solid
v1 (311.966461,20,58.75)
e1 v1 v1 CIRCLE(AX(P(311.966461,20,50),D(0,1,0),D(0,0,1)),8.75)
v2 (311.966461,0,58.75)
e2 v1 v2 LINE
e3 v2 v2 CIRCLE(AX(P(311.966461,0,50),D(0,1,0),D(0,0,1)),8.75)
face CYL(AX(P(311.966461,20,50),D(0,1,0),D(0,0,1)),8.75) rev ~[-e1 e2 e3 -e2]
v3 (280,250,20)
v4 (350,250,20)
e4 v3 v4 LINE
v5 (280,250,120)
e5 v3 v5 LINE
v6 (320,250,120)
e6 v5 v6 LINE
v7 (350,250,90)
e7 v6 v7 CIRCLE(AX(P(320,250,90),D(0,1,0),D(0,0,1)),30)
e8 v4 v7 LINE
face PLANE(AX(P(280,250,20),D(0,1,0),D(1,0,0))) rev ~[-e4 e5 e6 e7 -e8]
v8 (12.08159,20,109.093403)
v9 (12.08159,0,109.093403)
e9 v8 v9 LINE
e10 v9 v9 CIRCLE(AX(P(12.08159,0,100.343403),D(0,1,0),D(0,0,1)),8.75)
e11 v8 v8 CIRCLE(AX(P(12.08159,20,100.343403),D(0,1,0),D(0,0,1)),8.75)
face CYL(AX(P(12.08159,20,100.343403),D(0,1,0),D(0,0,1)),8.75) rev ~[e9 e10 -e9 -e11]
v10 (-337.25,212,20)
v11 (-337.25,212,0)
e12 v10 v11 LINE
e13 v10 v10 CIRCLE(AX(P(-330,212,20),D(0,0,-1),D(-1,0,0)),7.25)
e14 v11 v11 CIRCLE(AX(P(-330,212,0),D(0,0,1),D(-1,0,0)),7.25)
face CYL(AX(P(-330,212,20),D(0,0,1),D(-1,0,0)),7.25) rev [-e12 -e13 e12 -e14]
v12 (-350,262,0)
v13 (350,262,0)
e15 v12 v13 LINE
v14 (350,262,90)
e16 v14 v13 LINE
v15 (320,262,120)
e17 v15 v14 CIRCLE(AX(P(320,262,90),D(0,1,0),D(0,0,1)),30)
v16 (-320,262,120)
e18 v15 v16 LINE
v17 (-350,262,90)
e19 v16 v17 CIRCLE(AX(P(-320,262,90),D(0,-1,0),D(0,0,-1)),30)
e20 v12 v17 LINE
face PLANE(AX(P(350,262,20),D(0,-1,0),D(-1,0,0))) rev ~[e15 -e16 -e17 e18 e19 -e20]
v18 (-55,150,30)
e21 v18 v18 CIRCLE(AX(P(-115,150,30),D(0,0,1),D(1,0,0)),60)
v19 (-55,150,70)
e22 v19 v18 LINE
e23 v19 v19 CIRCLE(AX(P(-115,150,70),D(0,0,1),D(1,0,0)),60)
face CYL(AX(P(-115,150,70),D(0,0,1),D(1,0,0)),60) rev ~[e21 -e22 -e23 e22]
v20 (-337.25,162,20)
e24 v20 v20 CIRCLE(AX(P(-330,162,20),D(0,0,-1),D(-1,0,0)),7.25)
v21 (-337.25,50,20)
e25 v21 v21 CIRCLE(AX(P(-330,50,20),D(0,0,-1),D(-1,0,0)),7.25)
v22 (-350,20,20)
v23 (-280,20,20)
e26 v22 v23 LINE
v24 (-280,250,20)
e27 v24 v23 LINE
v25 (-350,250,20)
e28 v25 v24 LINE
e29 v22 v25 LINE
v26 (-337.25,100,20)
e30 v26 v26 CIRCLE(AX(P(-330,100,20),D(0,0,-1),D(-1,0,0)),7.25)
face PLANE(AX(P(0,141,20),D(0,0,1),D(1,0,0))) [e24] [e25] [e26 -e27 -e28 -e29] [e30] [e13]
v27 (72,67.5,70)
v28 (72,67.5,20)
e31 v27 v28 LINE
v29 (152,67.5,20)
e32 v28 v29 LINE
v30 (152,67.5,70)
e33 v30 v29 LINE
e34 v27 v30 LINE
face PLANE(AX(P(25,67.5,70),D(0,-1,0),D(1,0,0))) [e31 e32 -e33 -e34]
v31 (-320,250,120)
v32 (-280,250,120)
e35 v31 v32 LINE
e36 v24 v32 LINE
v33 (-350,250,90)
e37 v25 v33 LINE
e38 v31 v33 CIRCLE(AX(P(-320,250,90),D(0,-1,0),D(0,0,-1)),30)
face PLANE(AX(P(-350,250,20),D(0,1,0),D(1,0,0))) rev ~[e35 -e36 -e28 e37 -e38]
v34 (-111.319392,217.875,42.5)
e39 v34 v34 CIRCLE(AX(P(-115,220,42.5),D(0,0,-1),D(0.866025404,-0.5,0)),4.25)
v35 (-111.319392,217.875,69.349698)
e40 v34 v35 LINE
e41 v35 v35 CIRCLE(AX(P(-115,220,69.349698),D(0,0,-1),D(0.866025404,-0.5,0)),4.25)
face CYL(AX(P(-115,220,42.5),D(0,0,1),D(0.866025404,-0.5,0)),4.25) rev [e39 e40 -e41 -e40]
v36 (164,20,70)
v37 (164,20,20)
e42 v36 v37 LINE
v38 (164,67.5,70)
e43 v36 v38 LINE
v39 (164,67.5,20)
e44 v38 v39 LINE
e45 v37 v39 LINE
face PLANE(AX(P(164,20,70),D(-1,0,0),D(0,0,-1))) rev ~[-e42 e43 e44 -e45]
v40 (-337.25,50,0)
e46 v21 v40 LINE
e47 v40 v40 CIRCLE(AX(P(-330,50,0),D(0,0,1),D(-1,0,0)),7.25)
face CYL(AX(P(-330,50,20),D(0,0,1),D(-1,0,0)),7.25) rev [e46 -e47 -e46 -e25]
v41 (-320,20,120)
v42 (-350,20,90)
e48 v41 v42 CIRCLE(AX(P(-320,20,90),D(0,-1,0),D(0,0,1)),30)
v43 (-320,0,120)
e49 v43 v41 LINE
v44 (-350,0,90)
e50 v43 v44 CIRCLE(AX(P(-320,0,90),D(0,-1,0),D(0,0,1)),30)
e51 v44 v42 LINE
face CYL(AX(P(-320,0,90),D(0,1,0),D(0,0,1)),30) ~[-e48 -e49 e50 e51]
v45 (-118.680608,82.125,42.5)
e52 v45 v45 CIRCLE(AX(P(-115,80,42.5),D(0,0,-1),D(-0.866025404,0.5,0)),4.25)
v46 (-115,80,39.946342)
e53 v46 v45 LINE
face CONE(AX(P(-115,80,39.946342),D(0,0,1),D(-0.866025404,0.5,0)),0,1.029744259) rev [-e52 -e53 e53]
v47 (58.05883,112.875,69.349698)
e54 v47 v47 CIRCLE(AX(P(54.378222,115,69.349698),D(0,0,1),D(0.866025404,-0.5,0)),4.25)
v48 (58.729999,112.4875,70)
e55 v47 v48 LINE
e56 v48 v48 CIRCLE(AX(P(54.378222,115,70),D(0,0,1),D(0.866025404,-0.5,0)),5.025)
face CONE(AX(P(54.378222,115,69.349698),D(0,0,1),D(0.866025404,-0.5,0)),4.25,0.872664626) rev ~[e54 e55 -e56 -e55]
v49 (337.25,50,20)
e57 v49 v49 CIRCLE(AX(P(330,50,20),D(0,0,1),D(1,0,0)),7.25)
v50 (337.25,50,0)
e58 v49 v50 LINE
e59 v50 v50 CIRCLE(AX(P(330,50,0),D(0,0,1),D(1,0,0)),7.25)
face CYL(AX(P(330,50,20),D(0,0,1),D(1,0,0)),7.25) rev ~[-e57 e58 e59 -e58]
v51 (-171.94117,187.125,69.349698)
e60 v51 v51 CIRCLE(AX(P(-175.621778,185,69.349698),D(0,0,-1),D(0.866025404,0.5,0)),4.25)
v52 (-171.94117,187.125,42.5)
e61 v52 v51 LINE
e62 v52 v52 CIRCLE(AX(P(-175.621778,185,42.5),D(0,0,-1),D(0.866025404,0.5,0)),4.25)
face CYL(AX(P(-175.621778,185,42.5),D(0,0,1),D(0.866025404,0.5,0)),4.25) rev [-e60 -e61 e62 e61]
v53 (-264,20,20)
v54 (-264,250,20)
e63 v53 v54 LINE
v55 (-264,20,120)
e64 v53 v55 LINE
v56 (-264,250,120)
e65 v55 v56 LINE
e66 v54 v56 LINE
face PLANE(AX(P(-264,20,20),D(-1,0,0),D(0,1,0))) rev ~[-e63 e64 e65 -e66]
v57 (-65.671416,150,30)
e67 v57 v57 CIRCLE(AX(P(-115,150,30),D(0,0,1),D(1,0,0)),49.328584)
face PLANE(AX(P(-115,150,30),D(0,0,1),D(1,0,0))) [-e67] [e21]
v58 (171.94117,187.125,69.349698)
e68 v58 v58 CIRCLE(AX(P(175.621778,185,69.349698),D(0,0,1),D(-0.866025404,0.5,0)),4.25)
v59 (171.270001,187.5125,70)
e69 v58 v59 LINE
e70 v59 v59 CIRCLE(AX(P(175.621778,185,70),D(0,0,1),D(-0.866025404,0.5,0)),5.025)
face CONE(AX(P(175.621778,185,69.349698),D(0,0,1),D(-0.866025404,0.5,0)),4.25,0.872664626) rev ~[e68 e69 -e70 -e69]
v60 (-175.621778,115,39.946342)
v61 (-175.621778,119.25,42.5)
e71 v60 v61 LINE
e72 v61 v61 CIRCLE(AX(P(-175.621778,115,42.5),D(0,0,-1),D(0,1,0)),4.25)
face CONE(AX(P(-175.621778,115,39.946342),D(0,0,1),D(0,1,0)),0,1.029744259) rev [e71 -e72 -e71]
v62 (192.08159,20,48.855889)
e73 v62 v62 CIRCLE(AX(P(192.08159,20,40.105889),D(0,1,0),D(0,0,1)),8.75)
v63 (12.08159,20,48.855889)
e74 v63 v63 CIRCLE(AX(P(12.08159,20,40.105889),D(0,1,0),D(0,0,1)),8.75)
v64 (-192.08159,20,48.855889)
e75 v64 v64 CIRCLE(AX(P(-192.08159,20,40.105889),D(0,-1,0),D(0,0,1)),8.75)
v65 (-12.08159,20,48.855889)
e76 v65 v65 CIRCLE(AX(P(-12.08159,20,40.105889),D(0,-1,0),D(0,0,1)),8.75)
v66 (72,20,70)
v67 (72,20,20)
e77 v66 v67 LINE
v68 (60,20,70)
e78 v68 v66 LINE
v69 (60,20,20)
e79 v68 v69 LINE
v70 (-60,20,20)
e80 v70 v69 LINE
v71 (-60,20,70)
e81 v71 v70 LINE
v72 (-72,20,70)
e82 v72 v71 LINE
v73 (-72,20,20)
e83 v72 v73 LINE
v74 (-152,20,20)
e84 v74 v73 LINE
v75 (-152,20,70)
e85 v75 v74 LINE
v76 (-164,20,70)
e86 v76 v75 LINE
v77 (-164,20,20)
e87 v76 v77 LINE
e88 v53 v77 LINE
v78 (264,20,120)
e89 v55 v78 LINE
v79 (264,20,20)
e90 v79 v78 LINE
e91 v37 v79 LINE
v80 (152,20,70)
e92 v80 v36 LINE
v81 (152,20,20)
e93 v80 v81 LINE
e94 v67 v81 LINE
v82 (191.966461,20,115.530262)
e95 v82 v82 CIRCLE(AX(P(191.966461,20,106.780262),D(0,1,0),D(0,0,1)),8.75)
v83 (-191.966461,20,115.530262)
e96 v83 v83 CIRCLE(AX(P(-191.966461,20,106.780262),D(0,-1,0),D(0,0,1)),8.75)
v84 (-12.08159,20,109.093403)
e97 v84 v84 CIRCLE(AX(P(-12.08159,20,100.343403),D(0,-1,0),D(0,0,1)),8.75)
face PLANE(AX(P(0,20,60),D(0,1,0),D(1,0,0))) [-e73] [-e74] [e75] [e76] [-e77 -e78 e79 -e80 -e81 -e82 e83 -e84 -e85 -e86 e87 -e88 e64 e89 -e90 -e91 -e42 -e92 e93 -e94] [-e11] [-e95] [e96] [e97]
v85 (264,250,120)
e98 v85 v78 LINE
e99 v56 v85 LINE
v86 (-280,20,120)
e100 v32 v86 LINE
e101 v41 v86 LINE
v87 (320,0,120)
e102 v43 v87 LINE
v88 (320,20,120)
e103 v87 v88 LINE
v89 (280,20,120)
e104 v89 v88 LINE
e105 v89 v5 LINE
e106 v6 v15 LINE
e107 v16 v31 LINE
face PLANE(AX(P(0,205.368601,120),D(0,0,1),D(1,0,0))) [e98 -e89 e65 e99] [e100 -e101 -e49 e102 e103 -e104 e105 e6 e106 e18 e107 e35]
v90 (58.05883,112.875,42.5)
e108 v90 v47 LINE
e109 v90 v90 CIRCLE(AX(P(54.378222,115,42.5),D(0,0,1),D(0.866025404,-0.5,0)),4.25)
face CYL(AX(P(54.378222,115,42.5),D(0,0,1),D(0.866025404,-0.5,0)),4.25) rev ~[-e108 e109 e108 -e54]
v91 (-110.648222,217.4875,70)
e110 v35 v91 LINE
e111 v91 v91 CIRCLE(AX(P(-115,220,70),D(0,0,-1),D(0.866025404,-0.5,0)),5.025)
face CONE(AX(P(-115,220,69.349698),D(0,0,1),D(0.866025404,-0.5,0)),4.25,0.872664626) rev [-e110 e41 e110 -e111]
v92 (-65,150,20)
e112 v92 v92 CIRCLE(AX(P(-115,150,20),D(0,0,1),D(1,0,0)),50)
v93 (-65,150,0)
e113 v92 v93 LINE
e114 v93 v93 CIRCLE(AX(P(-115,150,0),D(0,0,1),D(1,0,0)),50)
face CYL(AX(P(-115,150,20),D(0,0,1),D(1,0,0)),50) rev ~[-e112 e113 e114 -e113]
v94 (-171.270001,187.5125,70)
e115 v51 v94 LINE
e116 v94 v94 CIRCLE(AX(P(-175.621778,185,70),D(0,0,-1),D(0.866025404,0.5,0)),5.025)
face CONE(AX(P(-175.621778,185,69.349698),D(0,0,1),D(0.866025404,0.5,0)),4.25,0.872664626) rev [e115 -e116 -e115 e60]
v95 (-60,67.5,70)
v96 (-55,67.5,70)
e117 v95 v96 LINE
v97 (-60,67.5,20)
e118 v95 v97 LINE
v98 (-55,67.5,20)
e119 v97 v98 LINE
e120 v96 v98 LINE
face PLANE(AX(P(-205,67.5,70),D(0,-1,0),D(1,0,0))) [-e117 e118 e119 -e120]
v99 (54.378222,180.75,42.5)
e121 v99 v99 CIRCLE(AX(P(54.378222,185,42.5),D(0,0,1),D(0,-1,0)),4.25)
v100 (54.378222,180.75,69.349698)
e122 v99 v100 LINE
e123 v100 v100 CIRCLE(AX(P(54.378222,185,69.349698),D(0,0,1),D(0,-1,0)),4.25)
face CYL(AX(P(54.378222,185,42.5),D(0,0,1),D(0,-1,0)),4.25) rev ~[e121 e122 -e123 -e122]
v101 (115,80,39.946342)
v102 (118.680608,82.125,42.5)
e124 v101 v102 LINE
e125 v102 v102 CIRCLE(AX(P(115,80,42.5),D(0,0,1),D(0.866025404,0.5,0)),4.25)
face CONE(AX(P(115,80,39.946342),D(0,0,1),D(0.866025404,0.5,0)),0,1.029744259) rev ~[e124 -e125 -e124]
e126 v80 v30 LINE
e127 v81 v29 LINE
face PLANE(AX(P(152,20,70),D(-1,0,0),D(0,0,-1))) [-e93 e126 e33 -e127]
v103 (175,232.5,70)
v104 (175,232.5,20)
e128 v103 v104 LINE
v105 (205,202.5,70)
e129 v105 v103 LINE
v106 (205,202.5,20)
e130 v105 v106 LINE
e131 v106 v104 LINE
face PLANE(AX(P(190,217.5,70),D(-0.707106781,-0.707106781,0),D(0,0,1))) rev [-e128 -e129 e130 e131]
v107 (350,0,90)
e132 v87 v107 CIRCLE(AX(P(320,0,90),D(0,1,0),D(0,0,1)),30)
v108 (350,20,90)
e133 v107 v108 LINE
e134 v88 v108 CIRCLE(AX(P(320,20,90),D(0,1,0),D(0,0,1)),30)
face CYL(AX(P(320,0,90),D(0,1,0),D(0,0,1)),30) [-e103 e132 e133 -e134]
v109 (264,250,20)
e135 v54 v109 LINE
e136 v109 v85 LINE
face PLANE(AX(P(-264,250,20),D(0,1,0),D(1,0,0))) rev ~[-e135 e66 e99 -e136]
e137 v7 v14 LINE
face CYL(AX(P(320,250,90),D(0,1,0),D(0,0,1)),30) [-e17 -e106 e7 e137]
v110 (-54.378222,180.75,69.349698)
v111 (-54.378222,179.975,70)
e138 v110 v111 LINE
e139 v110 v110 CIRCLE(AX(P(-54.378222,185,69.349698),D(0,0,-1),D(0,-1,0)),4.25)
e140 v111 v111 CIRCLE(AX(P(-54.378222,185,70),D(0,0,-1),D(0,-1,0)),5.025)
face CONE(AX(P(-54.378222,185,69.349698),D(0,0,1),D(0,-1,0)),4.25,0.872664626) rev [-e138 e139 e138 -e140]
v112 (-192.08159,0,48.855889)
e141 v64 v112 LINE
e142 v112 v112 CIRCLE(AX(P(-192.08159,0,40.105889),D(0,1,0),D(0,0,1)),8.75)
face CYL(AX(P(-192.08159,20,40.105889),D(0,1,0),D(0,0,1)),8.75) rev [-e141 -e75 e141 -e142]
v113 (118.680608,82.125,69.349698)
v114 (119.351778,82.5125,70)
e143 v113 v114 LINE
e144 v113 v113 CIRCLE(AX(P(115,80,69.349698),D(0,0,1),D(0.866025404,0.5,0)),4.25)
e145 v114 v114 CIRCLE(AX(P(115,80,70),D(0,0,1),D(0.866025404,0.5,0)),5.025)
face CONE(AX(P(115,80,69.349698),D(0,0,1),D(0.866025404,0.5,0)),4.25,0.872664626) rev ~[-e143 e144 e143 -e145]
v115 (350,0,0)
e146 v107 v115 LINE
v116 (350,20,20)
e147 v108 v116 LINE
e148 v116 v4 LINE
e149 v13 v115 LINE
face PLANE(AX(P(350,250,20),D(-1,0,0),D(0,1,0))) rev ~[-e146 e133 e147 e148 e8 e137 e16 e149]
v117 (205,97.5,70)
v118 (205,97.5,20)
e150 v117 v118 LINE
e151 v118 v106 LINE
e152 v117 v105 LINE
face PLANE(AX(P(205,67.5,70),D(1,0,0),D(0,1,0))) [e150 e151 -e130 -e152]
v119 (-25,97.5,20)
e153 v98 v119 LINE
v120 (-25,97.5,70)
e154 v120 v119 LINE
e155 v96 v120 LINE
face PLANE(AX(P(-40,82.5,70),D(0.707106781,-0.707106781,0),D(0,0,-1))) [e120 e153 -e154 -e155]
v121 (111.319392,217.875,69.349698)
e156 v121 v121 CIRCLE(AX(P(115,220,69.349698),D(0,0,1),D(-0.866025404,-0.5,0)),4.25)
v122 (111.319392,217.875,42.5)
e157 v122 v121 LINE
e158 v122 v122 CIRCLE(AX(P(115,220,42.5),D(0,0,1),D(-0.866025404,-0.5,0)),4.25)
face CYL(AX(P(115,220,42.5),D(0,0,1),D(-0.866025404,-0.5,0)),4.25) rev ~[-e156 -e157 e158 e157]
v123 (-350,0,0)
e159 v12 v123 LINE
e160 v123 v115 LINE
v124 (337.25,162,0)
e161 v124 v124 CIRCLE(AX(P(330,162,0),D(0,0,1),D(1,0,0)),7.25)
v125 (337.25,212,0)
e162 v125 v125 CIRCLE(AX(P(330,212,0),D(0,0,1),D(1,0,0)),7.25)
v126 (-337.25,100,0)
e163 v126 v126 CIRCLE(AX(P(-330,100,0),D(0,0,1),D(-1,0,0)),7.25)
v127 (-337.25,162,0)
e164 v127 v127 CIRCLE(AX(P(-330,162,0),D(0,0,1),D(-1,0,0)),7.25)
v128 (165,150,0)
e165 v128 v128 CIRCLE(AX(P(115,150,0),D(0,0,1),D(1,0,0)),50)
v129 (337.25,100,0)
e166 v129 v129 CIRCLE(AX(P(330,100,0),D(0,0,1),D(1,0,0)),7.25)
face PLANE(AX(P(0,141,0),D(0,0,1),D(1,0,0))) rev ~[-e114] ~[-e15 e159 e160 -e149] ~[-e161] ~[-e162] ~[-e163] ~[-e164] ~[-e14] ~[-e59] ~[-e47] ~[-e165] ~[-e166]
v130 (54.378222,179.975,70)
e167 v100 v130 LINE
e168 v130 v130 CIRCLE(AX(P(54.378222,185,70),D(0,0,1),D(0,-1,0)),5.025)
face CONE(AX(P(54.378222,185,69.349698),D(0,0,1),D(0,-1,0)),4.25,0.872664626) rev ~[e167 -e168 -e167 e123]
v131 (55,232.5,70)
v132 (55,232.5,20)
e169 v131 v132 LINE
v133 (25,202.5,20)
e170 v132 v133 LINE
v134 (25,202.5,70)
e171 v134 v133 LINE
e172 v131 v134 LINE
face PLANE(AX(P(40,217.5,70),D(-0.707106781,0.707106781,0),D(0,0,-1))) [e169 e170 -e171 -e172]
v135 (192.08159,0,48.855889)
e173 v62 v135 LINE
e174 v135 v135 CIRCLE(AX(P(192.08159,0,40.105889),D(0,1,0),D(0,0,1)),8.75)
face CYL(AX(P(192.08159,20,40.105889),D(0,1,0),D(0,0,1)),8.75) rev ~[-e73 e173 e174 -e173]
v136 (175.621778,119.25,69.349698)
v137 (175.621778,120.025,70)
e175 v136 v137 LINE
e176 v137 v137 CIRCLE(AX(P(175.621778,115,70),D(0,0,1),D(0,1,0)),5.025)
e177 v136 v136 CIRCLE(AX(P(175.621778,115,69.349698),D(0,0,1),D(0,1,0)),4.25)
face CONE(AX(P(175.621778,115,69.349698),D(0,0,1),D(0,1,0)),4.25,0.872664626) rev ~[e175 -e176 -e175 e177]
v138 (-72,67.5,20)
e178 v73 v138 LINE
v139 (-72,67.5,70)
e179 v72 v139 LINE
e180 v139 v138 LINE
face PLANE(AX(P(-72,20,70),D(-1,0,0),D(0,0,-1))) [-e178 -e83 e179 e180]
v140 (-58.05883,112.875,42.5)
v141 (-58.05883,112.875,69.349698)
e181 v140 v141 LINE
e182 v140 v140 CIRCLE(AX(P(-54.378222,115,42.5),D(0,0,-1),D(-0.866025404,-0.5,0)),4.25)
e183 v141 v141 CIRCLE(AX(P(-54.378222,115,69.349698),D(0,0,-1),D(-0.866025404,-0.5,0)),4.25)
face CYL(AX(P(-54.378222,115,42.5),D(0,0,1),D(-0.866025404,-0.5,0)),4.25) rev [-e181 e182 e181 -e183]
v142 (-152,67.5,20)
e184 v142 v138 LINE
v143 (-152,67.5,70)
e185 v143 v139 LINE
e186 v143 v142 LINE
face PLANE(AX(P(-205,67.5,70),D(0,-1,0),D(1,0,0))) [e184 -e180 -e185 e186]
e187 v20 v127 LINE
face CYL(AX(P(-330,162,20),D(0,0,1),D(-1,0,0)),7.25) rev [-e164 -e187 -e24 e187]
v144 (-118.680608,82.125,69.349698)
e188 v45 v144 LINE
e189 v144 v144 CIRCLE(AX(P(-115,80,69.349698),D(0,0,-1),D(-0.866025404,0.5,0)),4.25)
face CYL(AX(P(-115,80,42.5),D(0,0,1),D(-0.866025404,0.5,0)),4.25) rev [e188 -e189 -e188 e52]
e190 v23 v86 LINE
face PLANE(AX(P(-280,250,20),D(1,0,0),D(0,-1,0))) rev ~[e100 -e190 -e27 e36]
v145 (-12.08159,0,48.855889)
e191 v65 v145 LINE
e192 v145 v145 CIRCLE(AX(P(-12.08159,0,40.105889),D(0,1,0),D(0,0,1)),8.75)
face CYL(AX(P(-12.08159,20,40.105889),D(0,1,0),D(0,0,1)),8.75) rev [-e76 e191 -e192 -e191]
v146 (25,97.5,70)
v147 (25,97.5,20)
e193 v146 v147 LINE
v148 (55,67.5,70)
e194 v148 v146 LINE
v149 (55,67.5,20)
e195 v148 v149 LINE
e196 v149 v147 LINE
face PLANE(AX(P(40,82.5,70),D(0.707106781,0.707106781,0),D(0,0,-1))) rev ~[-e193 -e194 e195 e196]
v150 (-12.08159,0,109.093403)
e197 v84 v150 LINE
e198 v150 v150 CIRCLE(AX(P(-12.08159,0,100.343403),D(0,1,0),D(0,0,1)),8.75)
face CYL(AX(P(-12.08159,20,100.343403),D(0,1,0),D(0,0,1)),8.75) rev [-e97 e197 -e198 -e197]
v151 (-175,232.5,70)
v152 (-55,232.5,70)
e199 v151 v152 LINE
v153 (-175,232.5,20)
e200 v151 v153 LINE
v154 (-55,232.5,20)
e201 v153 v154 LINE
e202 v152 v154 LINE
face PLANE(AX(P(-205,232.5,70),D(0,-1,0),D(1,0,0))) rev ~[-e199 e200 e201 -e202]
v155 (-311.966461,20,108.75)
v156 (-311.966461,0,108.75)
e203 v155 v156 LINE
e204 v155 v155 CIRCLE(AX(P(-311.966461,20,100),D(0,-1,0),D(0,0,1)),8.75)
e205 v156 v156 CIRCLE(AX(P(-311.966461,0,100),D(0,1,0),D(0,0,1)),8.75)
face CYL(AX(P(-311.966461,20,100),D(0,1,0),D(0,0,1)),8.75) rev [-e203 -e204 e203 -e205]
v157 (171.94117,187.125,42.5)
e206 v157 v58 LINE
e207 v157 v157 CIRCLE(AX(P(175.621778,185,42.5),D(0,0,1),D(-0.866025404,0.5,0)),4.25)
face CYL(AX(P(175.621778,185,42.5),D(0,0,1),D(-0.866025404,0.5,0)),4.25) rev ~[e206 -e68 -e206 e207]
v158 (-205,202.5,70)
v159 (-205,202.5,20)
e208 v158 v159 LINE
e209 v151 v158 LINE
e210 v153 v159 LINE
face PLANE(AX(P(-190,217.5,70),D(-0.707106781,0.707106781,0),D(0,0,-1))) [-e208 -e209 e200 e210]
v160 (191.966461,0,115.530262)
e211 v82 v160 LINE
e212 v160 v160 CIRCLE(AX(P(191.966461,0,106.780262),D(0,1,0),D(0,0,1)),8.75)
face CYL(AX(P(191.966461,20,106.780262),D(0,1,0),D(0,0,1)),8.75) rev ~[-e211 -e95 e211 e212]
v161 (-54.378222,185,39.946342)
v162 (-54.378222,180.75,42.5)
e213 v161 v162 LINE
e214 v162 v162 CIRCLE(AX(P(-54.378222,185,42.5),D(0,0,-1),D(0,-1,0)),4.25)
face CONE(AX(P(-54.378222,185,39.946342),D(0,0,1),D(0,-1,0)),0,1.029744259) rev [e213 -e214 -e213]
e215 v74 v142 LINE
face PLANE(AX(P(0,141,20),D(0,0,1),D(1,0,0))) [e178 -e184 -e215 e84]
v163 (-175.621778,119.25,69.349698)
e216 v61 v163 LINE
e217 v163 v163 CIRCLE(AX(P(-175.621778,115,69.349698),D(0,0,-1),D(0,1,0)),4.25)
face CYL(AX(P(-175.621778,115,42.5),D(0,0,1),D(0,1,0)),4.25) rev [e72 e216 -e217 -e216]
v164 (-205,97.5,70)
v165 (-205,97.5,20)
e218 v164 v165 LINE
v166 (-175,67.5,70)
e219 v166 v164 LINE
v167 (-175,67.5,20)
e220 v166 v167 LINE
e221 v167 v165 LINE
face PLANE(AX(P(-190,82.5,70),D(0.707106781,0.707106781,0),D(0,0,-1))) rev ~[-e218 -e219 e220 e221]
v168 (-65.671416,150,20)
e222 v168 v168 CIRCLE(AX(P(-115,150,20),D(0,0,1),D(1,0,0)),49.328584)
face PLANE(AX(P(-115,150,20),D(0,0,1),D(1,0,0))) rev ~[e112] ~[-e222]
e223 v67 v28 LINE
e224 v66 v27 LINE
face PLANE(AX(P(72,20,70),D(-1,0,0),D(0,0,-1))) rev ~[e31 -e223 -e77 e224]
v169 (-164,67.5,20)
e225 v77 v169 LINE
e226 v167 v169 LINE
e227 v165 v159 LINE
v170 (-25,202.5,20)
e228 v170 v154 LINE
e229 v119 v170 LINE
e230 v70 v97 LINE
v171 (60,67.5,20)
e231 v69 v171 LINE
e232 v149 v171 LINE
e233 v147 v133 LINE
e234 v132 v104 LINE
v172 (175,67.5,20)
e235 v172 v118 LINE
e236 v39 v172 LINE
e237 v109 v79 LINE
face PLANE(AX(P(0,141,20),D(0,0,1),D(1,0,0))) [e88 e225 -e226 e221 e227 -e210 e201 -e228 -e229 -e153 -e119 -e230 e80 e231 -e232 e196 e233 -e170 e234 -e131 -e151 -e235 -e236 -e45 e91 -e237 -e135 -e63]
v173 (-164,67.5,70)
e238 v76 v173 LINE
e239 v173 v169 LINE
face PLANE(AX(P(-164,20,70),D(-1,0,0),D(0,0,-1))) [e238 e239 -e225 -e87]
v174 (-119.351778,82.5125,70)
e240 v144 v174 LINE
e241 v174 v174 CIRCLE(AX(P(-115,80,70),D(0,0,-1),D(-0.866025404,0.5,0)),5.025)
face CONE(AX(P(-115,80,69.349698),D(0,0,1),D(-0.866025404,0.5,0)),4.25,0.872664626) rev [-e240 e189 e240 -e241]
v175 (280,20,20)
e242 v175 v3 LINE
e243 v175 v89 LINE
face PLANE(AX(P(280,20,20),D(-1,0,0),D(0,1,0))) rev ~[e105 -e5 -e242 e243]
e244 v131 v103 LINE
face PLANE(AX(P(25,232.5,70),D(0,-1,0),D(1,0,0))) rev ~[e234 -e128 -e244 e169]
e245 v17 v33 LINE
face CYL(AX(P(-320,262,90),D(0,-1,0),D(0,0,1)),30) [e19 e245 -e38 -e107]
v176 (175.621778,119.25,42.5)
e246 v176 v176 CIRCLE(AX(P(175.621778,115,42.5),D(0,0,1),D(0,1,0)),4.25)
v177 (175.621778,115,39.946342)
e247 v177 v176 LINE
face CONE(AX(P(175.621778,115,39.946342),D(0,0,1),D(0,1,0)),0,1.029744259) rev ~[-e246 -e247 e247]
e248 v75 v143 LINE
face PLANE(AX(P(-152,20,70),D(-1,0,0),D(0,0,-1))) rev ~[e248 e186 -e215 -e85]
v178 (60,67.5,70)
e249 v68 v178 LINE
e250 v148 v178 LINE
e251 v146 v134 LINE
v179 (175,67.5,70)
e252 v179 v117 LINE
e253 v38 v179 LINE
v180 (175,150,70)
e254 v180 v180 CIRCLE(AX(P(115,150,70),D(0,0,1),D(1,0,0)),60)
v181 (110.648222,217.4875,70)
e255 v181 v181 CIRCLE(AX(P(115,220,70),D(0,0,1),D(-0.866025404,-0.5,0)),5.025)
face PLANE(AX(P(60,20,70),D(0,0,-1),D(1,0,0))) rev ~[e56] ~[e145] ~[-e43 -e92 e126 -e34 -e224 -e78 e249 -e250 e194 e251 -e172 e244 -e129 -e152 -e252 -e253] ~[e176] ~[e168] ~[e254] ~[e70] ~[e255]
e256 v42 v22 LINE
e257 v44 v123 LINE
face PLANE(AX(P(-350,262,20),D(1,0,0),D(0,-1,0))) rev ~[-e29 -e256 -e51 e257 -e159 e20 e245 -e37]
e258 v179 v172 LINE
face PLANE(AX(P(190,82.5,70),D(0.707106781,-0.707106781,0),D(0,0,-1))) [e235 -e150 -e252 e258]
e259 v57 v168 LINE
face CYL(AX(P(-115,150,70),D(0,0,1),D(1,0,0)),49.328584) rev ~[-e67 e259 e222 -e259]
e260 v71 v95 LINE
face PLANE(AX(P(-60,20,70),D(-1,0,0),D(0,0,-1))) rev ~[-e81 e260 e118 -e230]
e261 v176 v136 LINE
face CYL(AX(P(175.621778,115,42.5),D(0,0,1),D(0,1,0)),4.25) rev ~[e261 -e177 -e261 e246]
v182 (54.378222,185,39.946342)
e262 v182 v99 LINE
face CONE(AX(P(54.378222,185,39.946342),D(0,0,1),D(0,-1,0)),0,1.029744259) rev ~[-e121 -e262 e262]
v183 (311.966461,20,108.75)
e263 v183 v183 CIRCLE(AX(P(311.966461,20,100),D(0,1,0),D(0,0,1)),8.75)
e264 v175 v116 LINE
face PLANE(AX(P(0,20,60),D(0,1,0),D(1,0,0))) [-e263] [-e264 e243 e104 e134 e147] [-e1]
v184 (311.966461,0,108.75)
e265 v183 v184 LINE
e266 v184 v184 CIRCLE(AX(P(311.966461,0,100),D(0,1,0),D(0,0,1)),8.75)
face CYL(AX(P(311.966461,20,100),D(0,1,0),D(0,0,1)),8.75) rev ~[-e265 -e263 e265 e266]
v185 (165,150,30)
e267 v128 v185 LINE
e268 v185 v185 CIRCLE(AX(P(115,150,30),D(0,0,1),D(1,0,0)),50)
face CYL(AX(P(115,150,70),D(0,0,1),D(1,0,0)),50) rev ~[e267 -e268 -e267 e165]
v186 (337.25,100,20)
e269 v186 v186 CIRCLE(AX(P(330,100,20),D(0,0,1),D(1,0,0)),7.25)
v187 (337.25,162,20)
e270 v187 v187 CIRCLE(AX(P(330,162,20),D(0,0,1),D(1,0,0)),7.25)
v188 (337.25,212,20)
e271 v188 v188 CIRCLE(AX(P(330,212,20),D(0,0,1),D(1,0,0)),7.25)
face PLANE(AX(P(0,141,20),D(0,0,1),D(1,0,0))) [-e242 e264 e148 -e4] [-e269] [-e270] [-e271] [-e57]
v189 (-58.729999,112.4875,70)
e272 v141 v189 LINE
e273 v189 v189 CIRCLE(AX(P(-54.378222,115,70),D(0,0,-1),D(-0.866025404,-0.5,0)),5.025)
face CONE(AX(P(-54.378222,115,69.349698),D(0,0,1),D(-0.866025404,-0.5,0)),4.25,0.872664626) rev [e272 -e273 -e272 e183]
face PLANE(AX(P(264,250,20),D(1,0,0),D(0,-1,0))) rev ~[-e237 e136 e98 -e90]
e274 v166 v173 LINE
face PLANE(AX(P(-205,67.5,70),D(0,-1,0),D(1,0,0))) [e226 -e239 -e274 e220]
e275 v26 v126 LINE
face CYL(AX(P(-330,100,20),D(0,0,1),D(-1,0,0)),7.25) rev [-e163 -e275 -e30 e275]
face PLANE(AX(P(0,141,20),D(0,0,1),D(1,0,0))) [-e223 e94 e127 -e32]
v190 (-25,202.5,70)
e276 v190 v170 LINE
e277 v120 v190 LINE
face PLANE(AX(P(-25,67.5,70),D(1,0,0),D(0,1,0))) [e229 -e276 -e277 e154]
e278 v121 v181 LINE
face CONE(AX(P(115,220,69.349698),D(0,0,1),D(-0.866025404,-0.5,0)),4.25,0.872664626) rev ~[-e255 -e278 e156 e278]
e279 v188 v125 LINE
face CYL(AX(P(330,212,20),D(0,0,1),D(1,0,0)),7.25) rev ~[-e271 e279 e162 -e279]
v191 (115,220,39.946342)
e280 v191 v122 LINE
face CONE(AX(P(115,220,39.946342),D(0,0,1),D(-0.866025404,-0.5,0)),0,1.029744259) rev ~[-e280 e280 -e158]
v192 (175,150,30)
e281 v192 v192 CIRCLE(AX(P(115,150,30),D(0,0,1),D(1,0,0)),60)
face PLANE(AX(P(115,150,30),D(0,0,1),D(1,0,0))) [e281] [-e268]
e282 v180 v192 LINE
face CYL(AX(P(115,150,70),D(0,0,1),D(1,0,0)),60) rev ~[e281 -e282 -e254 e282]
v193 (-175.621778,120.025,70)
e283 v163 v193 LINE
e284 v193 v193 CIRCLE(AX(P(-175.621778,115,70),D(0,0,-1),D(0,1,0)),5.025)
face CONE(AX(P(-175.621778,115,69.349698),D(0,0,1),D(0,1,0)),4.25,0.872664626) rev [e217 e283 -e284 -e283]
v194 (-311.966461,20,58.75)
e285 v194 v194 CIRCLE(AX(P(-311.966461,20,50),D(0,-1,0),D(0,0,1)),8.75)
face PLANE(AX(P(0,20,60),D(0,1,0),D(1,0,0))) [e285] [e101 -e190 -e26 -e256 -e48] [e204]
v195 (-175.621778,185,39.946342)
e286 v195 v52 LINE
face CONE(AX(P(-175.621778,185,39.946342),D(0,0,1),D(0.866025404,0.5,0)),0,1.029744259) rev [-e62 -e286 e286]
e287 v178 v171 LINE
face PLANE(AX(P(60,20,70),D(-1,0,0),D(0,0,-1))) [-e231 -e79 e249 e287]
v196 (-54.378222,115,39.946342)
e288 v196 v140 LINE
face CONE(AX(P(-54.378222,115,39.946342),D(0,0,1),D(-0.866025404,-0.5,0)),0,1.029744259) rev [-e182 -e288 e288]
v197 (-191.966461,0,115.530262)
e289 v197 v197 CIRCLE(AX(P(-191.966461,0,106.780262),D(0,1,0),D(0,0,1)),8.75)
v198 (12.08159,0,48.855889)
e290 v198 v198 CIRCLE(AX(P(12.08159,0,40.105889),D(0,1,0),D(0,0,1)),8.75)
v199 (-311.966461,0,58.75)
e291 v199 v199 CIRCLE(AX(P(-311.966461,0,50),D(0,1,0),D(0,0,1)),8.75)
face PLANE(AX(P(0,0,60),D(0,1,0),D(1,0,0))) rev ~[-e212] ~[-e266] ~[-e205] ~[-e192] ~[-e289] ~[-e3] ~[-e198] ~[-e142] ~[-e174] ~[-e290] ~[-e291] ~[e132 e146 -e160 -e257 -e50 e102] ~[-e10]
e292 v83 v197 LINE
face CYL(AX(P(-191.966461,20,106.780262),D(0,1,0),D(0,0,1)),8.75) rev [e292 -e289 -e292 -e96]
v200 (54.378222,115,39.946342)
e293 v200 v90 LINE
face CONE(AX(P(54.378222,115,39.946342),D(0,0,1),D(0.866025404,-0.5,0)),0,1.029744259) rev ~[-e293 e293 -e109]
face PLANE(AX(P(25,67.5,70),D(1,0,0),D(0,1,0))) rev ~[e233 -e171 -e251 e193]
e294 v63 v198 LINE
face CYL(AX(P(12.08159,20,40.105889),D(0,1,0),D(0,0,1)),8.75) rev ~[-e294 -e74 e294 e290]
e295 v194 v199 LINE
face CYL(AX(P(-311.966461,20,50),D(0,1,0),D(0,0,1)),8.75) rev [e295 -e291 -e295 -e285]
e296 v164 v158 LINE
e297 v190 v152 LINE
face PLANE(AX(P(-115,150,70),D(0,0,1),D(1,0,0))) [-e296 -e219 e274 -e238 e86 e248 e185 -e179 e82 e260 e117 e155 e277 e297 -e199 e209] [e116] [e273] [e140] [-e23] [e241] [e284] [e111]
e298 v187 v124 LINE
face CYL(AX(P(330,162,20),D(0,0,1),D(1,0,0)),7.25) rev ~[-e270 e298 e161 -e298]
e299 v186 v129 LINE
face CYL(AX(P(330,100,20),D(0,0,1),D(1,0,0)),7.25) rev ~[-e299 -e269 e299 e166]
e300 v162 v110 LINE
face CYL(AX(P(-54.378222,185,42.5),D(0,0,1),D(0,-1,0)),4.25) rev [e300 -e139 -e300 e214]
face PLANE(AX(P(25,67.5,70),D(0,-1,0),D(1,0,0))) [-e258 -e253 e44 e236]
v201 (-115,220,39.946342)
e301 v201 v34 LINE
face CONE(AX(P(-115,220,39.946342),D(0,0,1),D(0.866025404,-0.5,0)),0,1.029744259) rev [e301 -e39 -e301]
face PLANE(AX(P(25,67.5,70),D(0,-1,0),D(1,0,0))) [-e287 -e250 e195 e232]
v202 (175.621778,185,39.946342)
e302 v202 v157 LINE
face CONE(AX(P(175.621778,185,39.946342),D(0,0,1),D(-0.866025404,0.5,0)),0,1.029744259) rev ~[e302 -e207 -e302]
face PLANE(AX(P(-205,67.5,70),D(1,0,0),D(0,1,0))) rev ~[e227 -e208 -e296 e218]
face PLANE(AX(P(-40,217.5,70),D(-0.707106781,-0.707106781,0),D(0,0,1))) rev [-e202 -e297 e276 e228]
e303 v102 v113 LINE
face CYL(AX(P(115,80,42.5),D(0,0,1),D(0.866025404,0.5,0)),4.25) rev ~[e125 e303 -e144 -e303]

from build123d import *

# Parameters (mm, degrees)
SKETCH1_W           = 700
SKETCH1_H           = 120
BOSS_EXTRUDE1_DEPTH = 20
SKETCH2_W           = 700
SKETCH2_H           = 242
BOSS_EXTRUDE2_DEPTH = 20
BOSS_EXTRUDE3_DEPTH = 100
SKETCH4_R           = 50
CUT_EXTRUDE1_DEPTH  = 30
BOSS_EXTRUDE4_START = 50
SKETCH5_W           = 180
SKETCH5_H           = 165
SKETCH5_R           = 49.3285836
SKETCH5_R_2         = 50
BOSS_EXTRUDE4_DEPTH = 50
SKETCH7_R           = 60
CUT_EXTRUDE2_DEPTH  = 40
FILLET1_R           = 30
CHAMFER1_SIZE       = 30
SKETCH8_W           = 12
SKETCH8_H           = 50
BOSS_EXTRUDE5_DEPTH = 47.5
CIRPATTERN1_COUNT   = 6
SKETCH11_R          = 7.25
CUT_EXTRUDE3_DEPTH  = 40
SKETCH12_R          = 8.75
CUT_EXTRUDE4_DEPTH  = 40


with BuildPart() as part:
    # Sketch1 → Boss-Extrude1 (new body)
    with BuildSketch(Plane(origin=(0, 0, 0), x_dir=(1, 0, 0), z_dir=(0, 1, 0))):
        with Locations((0, -60)):
            Rectangle(SKETCH1_W, SKETCH1_H)
    extrude(amount=BOSS_EXTRUDE1_DEPTH)

    # Sketch2 → Boss-Extrude2 (add)
    with BuildSketch(Plane.XY):
        with Locations((0, 141)):
            Rectangle(SKETCH2_W, SKETCH2_H)
    extrude(amount=BOSS_EXTRUDE2_DEPTH)

    # Sketch3 → Boss-Extrude3 (add)
    with BuildSketch(Plane.XY.offset(20)):
        Polygon((350, 262), (-350, 262), (-350, 250), (-280, 250), (-280, 20), (-264, 20), (-264, 250), (264, 250), (264, 20), (280, 20), (280, 250), (350, 250), align=None)
    extrude(amount=BOSS_EXTRUDE3_DEPTH)

    # Sketch4 → Cut-Extrude1 (cut)
    with BuildSketch(Plane.XY.offset(20)):
        with Locations((-115, 150)):
            Circle(SKETCH4_R)
        with Locations((115, 150)):
            Circle(SKETCH4_R)
    extrude(amount=-CUT_EXTRUDE1_DEPTH, mode=Mode.SUBTRACT)

    # Sketch5 → Boss-Extrude4 (add)
    # profile 1 of 2: a face of its own
    with BuildSketch(Plane.XY.offset(20).offset(BOSS_EXTRUDE4_START)):
        with Locations((-115, 150)):
            Rectangle(SKETCH5_W, SKETCH5_H)
        with Locations((-115, 150)):
            Circle(SKETCH5_R, mode=Mode.SUBTRACT)
    # profile 2 of 2: a face of its own
    with BuildSketch(Plane.XY.offset(20).offset(BOSS_EXTRUDE4_START)):
        with Locations((115, 150)):
            Rectangle(SKETCH5_W, SKETCH5_H)
        with Locations((115, 150)):
            Circle(SKETCH5_R_2, mode=Mode.SUBTRACT)
    extrude(amount=-BOSS_EXTRUDE4_DEPTH)

    # Sketch7 → Cut-Extrude2 (cut)
    with BuildSketch(Plane.XY.offset(70)):
        with Locations((-115, 150)):
            Circle(SKETCH7_R)
        with Locations((115, 150)):
            Circle(SKETCH7_R)
    extrude(amount=-CUT_EXTRUDE2_DEPTH, mode=Mode.SUBTRACT)

    # Fillet1
    fillet1_edges = [part.edges().sort_by_distance(p)[0] for p in [
        (350, 256, 120),
        (-350, 256, 120),
        (350, 10, 120),
        (-350, 10, 120),
    ]]
    fillet(fillet1_edges, radius=FILLET1_R)

    # Chamfer1
    chamfer1_edges = [part.edges().sort_by_distance(p)[0] for p in [
        (-25, 67.5, 45),
        (-25, 232.5, 45),
        (-205, 232.5, 45),
        (-205, 67.5, 45),
        (205, 67.5, 45),
        (205, 232.5, 45),
        (25, 232.5, 45),
        (25, 67.5, 45),
    ]]
    chamfer(chamfer1_edges, length=CHAMFER1_SIZE)

    # Sketch8 → Boss-Extrude5 (add)
    with BuildSketch(Plane(origin=(0, 20, 0), x_dir=(1, 0, 0), z_dir=(0, 1, 0))):
        with Locations((-66, -45)):
            Rectangle(SKETCH8_W, SKETCH8_H)
        with Locations((66, -45)):
            Rectangle(SKETCH8_W, SKETCH8_H)
        with Locations((158, -45)):
            Rectangle(SKETCH8_W, SKETCH8_H)
        with Locations((-158, -45)):
            Rectangle(SKETCH8_W, SKETCH8_H)
    extrude(amount=BOSS_EXTRUDE5_DEPTH)

    # Sketch10 → M10 Tapped Hole1 (revolve, cut)
    with BuildSketch(Plane(origin=(-54.378221735, 185, 70), x_dir=(0, -1, 0), z_dir=(1, 0, 0))):
        Polygon((0, 0), (0, 30.053657631), (4.25, 27.5), (4.25, 0.650302214), (5.025, 0), align=None)
    m10_tapped_hole1 = revolve(axis=Axis((-54.378221735, 185, 76.35), (0, 0, -1)), mode=Mode.SUBTRACT)

    # CirPattern1: M10 Tapped Hole1 ×6 about axis
    cirpattern1_axis = Axis((-115, 150, 0), (0, 0, 1))
    for i in range(1, CIRPATTERN1_COUNT):
        add(m10_tapped_hole1.rotate(cirpattern1_axis, i * 360 / CIRPATTERN1_COUNT), mode=Mode.SUBTRACT)

    # Mirror1: M10 Tapped Hole1 across plane
    add(m10_tapped_hole1.mirror(Plane(origin=(0, 0, 0), x_dir=(0, 0, 1), z_dir=(1, 0, 0))), mode=Mode.SUBTRACT)

    # Mirror1 copy 1 sketch → Mirror1 copy 1 (revolve, cut)
    with BuildSketch(Plane(origin=(115, 220, 70), x_dir=(-0.8660254037844386, -0.5000000000000001, 0), z_dir=(-0.5000000000000001, 0.8660254037844386, 0))):
        Polygon((0, 0), (0, -30.053657631), (4.25, -27.5), (4.25, -0.650302214), (5.025, 0), align=None)
    revolve(axis=Axis((115, 220, 76.35), (0, 0, 1)), mode=Mode.SUBTRACT)

    # Mirror1 copy 2 sketch → Mirror1 copy 2 (revolve, cut)
    with BuildSketch(Plane(origin=(175.621778265, 185, 70), x_dir=(-0.8660254037844387, 0.4999999999999998, 0), z_dir=(0.4999999999999998, 0.8660254037844387, 0))):
        Polygon((0, 0), (0, -30.053657631), (4.25, -27.5), (4.25, -0.650302214), (5.025, 0), align=None)
    revolve(axis=Axis((175.621778265, 185, 76.35), (0, 0, 1)), mode=Mode.SUBTRACT)

    # Mirror1 copy 3 sketch → Mirror1 copy 3 (revolve, cut)
    with BuildSketch(Plane(origin=(175.621778265, 115, 70), x_dir=(0, 1, 0), z_dir=(1, 0, 0))):
        Polygon((0, 0), (0, -30.053657631), (4.25, -27.5), (4.25, -0.650302214), (5.025, 0), align=None)
    revolve(axis=Axis((175.621778265, 115, 76.35), (0, 0, 1)), mode=Mode.SUBTRACT)

    # Mirror1 copy 4 sketch → Mirror1 copy 4 (revolve, cut)
    with BuildSketch(Plane(origin=(115, 80, 70), x_dir=(0.8660254037844384, 0.5000000000000004, 0), z_dir=(0.5000000000000004, -0.8660254037844384, 0))):
        Polygon((0, 0), (0, -30.053657631), (4.25, -27.5), (4.25, -0.650302214), (5.025, 0), align=None)
    revolve(axis=Axis((115, 80, 76.35), (0, 0, 1)), mode=Mode.SUBTRACT)

    # Mirror1 copy 5 sketch → Mirror1 copy 5 (revolve, cut)
    with BuildSketch(Plane(origin=(54.378221735, 115, 70), x_dir=(0.8660254037844386, -0.5000000000000001, 0), z_dir=(-0.5000000000000001, -0.8660254037844386, 0))):
        Polygon((0, 0), (0, -30.053657631), (4.25, -27.5), (4.25, -0.650302214), (5.025, 0), align=None)
    revolve(axis=Axis((54.378221735, 115, 76.35), (0, 0, 1)), mode=Mode.SUBTRACT)

    # Sketch11 → Cut-Extrude3 (cut)
    with BuildSketch(Plane.XY.offset(20)):
        with Locations((330, 212)):
            Circle(SKETCH11_R)
        with Locations((330, 162)):
            Circle(SKETCH11_R)
        with Locations((330, 100)):
            Circle(SKETCH11_R)
        with Locations((330, 50)):
            Circle(SKETCH11_R)
    cut_extrude3 = extrude(amount=-CUT_EXTRUDE3_DEPTH, mode=Mode.SUBTRACT)

    # Sketch12 → Cut-Extrude4 (cut)
    with BuildSketch(Plane(origin=(0, 20, 0), x_dir=(1, 0, 0), z_dir=(0, 1, 0))):
        with Locations(Location((311.966460743, -50, 0), (0, 0, 270))):
            Circle(SKETCH12_R)
        with Locations(Location((311.966460743, -100, 0), (0, 0, 270))):
            Circle(SKETCH12_R)
        with Locations(Location((192.081589636, -40.105889272, 0), (0, 0, 270))):
            Circle(SKETCH12_R)
        with Locations(Location((191.966460743, -106.780261963, 0), (0, 0, 270))):
            Circle(SKETCH12_R)
        with Locations(Location((12.081589636, -40.105889272, 0), (0, 0, 270))):
            Circle(SKETCH12_R)
        with Locations(Location((12.081589636, -100.343403493, 0), (0, 0, 270))):
            Circle(SKETCH12_R)
    cut_extrude4 = extrude(amount=-CUT_EXTRUDE4_DEPTH, mode=Mode.SUBTRACT)

    # Mirror3: Cut-Extrude3, Cut-Extrude4 across plane
    add(cut_extrude3.mirror(Plane(origin=(0, 0, 0), x_dir=(0, 0, 1), z_dir=(1, 0, 0))), mode=Mode.SUBTRACT)
    add(cut_extrude4.mirror(Plane(origin=(0, 0, 0), x_dir=(0, 0, 1), z_dir=(1, 0, 0))), mode=Mode.SUBTRACT)


solid = part.part
